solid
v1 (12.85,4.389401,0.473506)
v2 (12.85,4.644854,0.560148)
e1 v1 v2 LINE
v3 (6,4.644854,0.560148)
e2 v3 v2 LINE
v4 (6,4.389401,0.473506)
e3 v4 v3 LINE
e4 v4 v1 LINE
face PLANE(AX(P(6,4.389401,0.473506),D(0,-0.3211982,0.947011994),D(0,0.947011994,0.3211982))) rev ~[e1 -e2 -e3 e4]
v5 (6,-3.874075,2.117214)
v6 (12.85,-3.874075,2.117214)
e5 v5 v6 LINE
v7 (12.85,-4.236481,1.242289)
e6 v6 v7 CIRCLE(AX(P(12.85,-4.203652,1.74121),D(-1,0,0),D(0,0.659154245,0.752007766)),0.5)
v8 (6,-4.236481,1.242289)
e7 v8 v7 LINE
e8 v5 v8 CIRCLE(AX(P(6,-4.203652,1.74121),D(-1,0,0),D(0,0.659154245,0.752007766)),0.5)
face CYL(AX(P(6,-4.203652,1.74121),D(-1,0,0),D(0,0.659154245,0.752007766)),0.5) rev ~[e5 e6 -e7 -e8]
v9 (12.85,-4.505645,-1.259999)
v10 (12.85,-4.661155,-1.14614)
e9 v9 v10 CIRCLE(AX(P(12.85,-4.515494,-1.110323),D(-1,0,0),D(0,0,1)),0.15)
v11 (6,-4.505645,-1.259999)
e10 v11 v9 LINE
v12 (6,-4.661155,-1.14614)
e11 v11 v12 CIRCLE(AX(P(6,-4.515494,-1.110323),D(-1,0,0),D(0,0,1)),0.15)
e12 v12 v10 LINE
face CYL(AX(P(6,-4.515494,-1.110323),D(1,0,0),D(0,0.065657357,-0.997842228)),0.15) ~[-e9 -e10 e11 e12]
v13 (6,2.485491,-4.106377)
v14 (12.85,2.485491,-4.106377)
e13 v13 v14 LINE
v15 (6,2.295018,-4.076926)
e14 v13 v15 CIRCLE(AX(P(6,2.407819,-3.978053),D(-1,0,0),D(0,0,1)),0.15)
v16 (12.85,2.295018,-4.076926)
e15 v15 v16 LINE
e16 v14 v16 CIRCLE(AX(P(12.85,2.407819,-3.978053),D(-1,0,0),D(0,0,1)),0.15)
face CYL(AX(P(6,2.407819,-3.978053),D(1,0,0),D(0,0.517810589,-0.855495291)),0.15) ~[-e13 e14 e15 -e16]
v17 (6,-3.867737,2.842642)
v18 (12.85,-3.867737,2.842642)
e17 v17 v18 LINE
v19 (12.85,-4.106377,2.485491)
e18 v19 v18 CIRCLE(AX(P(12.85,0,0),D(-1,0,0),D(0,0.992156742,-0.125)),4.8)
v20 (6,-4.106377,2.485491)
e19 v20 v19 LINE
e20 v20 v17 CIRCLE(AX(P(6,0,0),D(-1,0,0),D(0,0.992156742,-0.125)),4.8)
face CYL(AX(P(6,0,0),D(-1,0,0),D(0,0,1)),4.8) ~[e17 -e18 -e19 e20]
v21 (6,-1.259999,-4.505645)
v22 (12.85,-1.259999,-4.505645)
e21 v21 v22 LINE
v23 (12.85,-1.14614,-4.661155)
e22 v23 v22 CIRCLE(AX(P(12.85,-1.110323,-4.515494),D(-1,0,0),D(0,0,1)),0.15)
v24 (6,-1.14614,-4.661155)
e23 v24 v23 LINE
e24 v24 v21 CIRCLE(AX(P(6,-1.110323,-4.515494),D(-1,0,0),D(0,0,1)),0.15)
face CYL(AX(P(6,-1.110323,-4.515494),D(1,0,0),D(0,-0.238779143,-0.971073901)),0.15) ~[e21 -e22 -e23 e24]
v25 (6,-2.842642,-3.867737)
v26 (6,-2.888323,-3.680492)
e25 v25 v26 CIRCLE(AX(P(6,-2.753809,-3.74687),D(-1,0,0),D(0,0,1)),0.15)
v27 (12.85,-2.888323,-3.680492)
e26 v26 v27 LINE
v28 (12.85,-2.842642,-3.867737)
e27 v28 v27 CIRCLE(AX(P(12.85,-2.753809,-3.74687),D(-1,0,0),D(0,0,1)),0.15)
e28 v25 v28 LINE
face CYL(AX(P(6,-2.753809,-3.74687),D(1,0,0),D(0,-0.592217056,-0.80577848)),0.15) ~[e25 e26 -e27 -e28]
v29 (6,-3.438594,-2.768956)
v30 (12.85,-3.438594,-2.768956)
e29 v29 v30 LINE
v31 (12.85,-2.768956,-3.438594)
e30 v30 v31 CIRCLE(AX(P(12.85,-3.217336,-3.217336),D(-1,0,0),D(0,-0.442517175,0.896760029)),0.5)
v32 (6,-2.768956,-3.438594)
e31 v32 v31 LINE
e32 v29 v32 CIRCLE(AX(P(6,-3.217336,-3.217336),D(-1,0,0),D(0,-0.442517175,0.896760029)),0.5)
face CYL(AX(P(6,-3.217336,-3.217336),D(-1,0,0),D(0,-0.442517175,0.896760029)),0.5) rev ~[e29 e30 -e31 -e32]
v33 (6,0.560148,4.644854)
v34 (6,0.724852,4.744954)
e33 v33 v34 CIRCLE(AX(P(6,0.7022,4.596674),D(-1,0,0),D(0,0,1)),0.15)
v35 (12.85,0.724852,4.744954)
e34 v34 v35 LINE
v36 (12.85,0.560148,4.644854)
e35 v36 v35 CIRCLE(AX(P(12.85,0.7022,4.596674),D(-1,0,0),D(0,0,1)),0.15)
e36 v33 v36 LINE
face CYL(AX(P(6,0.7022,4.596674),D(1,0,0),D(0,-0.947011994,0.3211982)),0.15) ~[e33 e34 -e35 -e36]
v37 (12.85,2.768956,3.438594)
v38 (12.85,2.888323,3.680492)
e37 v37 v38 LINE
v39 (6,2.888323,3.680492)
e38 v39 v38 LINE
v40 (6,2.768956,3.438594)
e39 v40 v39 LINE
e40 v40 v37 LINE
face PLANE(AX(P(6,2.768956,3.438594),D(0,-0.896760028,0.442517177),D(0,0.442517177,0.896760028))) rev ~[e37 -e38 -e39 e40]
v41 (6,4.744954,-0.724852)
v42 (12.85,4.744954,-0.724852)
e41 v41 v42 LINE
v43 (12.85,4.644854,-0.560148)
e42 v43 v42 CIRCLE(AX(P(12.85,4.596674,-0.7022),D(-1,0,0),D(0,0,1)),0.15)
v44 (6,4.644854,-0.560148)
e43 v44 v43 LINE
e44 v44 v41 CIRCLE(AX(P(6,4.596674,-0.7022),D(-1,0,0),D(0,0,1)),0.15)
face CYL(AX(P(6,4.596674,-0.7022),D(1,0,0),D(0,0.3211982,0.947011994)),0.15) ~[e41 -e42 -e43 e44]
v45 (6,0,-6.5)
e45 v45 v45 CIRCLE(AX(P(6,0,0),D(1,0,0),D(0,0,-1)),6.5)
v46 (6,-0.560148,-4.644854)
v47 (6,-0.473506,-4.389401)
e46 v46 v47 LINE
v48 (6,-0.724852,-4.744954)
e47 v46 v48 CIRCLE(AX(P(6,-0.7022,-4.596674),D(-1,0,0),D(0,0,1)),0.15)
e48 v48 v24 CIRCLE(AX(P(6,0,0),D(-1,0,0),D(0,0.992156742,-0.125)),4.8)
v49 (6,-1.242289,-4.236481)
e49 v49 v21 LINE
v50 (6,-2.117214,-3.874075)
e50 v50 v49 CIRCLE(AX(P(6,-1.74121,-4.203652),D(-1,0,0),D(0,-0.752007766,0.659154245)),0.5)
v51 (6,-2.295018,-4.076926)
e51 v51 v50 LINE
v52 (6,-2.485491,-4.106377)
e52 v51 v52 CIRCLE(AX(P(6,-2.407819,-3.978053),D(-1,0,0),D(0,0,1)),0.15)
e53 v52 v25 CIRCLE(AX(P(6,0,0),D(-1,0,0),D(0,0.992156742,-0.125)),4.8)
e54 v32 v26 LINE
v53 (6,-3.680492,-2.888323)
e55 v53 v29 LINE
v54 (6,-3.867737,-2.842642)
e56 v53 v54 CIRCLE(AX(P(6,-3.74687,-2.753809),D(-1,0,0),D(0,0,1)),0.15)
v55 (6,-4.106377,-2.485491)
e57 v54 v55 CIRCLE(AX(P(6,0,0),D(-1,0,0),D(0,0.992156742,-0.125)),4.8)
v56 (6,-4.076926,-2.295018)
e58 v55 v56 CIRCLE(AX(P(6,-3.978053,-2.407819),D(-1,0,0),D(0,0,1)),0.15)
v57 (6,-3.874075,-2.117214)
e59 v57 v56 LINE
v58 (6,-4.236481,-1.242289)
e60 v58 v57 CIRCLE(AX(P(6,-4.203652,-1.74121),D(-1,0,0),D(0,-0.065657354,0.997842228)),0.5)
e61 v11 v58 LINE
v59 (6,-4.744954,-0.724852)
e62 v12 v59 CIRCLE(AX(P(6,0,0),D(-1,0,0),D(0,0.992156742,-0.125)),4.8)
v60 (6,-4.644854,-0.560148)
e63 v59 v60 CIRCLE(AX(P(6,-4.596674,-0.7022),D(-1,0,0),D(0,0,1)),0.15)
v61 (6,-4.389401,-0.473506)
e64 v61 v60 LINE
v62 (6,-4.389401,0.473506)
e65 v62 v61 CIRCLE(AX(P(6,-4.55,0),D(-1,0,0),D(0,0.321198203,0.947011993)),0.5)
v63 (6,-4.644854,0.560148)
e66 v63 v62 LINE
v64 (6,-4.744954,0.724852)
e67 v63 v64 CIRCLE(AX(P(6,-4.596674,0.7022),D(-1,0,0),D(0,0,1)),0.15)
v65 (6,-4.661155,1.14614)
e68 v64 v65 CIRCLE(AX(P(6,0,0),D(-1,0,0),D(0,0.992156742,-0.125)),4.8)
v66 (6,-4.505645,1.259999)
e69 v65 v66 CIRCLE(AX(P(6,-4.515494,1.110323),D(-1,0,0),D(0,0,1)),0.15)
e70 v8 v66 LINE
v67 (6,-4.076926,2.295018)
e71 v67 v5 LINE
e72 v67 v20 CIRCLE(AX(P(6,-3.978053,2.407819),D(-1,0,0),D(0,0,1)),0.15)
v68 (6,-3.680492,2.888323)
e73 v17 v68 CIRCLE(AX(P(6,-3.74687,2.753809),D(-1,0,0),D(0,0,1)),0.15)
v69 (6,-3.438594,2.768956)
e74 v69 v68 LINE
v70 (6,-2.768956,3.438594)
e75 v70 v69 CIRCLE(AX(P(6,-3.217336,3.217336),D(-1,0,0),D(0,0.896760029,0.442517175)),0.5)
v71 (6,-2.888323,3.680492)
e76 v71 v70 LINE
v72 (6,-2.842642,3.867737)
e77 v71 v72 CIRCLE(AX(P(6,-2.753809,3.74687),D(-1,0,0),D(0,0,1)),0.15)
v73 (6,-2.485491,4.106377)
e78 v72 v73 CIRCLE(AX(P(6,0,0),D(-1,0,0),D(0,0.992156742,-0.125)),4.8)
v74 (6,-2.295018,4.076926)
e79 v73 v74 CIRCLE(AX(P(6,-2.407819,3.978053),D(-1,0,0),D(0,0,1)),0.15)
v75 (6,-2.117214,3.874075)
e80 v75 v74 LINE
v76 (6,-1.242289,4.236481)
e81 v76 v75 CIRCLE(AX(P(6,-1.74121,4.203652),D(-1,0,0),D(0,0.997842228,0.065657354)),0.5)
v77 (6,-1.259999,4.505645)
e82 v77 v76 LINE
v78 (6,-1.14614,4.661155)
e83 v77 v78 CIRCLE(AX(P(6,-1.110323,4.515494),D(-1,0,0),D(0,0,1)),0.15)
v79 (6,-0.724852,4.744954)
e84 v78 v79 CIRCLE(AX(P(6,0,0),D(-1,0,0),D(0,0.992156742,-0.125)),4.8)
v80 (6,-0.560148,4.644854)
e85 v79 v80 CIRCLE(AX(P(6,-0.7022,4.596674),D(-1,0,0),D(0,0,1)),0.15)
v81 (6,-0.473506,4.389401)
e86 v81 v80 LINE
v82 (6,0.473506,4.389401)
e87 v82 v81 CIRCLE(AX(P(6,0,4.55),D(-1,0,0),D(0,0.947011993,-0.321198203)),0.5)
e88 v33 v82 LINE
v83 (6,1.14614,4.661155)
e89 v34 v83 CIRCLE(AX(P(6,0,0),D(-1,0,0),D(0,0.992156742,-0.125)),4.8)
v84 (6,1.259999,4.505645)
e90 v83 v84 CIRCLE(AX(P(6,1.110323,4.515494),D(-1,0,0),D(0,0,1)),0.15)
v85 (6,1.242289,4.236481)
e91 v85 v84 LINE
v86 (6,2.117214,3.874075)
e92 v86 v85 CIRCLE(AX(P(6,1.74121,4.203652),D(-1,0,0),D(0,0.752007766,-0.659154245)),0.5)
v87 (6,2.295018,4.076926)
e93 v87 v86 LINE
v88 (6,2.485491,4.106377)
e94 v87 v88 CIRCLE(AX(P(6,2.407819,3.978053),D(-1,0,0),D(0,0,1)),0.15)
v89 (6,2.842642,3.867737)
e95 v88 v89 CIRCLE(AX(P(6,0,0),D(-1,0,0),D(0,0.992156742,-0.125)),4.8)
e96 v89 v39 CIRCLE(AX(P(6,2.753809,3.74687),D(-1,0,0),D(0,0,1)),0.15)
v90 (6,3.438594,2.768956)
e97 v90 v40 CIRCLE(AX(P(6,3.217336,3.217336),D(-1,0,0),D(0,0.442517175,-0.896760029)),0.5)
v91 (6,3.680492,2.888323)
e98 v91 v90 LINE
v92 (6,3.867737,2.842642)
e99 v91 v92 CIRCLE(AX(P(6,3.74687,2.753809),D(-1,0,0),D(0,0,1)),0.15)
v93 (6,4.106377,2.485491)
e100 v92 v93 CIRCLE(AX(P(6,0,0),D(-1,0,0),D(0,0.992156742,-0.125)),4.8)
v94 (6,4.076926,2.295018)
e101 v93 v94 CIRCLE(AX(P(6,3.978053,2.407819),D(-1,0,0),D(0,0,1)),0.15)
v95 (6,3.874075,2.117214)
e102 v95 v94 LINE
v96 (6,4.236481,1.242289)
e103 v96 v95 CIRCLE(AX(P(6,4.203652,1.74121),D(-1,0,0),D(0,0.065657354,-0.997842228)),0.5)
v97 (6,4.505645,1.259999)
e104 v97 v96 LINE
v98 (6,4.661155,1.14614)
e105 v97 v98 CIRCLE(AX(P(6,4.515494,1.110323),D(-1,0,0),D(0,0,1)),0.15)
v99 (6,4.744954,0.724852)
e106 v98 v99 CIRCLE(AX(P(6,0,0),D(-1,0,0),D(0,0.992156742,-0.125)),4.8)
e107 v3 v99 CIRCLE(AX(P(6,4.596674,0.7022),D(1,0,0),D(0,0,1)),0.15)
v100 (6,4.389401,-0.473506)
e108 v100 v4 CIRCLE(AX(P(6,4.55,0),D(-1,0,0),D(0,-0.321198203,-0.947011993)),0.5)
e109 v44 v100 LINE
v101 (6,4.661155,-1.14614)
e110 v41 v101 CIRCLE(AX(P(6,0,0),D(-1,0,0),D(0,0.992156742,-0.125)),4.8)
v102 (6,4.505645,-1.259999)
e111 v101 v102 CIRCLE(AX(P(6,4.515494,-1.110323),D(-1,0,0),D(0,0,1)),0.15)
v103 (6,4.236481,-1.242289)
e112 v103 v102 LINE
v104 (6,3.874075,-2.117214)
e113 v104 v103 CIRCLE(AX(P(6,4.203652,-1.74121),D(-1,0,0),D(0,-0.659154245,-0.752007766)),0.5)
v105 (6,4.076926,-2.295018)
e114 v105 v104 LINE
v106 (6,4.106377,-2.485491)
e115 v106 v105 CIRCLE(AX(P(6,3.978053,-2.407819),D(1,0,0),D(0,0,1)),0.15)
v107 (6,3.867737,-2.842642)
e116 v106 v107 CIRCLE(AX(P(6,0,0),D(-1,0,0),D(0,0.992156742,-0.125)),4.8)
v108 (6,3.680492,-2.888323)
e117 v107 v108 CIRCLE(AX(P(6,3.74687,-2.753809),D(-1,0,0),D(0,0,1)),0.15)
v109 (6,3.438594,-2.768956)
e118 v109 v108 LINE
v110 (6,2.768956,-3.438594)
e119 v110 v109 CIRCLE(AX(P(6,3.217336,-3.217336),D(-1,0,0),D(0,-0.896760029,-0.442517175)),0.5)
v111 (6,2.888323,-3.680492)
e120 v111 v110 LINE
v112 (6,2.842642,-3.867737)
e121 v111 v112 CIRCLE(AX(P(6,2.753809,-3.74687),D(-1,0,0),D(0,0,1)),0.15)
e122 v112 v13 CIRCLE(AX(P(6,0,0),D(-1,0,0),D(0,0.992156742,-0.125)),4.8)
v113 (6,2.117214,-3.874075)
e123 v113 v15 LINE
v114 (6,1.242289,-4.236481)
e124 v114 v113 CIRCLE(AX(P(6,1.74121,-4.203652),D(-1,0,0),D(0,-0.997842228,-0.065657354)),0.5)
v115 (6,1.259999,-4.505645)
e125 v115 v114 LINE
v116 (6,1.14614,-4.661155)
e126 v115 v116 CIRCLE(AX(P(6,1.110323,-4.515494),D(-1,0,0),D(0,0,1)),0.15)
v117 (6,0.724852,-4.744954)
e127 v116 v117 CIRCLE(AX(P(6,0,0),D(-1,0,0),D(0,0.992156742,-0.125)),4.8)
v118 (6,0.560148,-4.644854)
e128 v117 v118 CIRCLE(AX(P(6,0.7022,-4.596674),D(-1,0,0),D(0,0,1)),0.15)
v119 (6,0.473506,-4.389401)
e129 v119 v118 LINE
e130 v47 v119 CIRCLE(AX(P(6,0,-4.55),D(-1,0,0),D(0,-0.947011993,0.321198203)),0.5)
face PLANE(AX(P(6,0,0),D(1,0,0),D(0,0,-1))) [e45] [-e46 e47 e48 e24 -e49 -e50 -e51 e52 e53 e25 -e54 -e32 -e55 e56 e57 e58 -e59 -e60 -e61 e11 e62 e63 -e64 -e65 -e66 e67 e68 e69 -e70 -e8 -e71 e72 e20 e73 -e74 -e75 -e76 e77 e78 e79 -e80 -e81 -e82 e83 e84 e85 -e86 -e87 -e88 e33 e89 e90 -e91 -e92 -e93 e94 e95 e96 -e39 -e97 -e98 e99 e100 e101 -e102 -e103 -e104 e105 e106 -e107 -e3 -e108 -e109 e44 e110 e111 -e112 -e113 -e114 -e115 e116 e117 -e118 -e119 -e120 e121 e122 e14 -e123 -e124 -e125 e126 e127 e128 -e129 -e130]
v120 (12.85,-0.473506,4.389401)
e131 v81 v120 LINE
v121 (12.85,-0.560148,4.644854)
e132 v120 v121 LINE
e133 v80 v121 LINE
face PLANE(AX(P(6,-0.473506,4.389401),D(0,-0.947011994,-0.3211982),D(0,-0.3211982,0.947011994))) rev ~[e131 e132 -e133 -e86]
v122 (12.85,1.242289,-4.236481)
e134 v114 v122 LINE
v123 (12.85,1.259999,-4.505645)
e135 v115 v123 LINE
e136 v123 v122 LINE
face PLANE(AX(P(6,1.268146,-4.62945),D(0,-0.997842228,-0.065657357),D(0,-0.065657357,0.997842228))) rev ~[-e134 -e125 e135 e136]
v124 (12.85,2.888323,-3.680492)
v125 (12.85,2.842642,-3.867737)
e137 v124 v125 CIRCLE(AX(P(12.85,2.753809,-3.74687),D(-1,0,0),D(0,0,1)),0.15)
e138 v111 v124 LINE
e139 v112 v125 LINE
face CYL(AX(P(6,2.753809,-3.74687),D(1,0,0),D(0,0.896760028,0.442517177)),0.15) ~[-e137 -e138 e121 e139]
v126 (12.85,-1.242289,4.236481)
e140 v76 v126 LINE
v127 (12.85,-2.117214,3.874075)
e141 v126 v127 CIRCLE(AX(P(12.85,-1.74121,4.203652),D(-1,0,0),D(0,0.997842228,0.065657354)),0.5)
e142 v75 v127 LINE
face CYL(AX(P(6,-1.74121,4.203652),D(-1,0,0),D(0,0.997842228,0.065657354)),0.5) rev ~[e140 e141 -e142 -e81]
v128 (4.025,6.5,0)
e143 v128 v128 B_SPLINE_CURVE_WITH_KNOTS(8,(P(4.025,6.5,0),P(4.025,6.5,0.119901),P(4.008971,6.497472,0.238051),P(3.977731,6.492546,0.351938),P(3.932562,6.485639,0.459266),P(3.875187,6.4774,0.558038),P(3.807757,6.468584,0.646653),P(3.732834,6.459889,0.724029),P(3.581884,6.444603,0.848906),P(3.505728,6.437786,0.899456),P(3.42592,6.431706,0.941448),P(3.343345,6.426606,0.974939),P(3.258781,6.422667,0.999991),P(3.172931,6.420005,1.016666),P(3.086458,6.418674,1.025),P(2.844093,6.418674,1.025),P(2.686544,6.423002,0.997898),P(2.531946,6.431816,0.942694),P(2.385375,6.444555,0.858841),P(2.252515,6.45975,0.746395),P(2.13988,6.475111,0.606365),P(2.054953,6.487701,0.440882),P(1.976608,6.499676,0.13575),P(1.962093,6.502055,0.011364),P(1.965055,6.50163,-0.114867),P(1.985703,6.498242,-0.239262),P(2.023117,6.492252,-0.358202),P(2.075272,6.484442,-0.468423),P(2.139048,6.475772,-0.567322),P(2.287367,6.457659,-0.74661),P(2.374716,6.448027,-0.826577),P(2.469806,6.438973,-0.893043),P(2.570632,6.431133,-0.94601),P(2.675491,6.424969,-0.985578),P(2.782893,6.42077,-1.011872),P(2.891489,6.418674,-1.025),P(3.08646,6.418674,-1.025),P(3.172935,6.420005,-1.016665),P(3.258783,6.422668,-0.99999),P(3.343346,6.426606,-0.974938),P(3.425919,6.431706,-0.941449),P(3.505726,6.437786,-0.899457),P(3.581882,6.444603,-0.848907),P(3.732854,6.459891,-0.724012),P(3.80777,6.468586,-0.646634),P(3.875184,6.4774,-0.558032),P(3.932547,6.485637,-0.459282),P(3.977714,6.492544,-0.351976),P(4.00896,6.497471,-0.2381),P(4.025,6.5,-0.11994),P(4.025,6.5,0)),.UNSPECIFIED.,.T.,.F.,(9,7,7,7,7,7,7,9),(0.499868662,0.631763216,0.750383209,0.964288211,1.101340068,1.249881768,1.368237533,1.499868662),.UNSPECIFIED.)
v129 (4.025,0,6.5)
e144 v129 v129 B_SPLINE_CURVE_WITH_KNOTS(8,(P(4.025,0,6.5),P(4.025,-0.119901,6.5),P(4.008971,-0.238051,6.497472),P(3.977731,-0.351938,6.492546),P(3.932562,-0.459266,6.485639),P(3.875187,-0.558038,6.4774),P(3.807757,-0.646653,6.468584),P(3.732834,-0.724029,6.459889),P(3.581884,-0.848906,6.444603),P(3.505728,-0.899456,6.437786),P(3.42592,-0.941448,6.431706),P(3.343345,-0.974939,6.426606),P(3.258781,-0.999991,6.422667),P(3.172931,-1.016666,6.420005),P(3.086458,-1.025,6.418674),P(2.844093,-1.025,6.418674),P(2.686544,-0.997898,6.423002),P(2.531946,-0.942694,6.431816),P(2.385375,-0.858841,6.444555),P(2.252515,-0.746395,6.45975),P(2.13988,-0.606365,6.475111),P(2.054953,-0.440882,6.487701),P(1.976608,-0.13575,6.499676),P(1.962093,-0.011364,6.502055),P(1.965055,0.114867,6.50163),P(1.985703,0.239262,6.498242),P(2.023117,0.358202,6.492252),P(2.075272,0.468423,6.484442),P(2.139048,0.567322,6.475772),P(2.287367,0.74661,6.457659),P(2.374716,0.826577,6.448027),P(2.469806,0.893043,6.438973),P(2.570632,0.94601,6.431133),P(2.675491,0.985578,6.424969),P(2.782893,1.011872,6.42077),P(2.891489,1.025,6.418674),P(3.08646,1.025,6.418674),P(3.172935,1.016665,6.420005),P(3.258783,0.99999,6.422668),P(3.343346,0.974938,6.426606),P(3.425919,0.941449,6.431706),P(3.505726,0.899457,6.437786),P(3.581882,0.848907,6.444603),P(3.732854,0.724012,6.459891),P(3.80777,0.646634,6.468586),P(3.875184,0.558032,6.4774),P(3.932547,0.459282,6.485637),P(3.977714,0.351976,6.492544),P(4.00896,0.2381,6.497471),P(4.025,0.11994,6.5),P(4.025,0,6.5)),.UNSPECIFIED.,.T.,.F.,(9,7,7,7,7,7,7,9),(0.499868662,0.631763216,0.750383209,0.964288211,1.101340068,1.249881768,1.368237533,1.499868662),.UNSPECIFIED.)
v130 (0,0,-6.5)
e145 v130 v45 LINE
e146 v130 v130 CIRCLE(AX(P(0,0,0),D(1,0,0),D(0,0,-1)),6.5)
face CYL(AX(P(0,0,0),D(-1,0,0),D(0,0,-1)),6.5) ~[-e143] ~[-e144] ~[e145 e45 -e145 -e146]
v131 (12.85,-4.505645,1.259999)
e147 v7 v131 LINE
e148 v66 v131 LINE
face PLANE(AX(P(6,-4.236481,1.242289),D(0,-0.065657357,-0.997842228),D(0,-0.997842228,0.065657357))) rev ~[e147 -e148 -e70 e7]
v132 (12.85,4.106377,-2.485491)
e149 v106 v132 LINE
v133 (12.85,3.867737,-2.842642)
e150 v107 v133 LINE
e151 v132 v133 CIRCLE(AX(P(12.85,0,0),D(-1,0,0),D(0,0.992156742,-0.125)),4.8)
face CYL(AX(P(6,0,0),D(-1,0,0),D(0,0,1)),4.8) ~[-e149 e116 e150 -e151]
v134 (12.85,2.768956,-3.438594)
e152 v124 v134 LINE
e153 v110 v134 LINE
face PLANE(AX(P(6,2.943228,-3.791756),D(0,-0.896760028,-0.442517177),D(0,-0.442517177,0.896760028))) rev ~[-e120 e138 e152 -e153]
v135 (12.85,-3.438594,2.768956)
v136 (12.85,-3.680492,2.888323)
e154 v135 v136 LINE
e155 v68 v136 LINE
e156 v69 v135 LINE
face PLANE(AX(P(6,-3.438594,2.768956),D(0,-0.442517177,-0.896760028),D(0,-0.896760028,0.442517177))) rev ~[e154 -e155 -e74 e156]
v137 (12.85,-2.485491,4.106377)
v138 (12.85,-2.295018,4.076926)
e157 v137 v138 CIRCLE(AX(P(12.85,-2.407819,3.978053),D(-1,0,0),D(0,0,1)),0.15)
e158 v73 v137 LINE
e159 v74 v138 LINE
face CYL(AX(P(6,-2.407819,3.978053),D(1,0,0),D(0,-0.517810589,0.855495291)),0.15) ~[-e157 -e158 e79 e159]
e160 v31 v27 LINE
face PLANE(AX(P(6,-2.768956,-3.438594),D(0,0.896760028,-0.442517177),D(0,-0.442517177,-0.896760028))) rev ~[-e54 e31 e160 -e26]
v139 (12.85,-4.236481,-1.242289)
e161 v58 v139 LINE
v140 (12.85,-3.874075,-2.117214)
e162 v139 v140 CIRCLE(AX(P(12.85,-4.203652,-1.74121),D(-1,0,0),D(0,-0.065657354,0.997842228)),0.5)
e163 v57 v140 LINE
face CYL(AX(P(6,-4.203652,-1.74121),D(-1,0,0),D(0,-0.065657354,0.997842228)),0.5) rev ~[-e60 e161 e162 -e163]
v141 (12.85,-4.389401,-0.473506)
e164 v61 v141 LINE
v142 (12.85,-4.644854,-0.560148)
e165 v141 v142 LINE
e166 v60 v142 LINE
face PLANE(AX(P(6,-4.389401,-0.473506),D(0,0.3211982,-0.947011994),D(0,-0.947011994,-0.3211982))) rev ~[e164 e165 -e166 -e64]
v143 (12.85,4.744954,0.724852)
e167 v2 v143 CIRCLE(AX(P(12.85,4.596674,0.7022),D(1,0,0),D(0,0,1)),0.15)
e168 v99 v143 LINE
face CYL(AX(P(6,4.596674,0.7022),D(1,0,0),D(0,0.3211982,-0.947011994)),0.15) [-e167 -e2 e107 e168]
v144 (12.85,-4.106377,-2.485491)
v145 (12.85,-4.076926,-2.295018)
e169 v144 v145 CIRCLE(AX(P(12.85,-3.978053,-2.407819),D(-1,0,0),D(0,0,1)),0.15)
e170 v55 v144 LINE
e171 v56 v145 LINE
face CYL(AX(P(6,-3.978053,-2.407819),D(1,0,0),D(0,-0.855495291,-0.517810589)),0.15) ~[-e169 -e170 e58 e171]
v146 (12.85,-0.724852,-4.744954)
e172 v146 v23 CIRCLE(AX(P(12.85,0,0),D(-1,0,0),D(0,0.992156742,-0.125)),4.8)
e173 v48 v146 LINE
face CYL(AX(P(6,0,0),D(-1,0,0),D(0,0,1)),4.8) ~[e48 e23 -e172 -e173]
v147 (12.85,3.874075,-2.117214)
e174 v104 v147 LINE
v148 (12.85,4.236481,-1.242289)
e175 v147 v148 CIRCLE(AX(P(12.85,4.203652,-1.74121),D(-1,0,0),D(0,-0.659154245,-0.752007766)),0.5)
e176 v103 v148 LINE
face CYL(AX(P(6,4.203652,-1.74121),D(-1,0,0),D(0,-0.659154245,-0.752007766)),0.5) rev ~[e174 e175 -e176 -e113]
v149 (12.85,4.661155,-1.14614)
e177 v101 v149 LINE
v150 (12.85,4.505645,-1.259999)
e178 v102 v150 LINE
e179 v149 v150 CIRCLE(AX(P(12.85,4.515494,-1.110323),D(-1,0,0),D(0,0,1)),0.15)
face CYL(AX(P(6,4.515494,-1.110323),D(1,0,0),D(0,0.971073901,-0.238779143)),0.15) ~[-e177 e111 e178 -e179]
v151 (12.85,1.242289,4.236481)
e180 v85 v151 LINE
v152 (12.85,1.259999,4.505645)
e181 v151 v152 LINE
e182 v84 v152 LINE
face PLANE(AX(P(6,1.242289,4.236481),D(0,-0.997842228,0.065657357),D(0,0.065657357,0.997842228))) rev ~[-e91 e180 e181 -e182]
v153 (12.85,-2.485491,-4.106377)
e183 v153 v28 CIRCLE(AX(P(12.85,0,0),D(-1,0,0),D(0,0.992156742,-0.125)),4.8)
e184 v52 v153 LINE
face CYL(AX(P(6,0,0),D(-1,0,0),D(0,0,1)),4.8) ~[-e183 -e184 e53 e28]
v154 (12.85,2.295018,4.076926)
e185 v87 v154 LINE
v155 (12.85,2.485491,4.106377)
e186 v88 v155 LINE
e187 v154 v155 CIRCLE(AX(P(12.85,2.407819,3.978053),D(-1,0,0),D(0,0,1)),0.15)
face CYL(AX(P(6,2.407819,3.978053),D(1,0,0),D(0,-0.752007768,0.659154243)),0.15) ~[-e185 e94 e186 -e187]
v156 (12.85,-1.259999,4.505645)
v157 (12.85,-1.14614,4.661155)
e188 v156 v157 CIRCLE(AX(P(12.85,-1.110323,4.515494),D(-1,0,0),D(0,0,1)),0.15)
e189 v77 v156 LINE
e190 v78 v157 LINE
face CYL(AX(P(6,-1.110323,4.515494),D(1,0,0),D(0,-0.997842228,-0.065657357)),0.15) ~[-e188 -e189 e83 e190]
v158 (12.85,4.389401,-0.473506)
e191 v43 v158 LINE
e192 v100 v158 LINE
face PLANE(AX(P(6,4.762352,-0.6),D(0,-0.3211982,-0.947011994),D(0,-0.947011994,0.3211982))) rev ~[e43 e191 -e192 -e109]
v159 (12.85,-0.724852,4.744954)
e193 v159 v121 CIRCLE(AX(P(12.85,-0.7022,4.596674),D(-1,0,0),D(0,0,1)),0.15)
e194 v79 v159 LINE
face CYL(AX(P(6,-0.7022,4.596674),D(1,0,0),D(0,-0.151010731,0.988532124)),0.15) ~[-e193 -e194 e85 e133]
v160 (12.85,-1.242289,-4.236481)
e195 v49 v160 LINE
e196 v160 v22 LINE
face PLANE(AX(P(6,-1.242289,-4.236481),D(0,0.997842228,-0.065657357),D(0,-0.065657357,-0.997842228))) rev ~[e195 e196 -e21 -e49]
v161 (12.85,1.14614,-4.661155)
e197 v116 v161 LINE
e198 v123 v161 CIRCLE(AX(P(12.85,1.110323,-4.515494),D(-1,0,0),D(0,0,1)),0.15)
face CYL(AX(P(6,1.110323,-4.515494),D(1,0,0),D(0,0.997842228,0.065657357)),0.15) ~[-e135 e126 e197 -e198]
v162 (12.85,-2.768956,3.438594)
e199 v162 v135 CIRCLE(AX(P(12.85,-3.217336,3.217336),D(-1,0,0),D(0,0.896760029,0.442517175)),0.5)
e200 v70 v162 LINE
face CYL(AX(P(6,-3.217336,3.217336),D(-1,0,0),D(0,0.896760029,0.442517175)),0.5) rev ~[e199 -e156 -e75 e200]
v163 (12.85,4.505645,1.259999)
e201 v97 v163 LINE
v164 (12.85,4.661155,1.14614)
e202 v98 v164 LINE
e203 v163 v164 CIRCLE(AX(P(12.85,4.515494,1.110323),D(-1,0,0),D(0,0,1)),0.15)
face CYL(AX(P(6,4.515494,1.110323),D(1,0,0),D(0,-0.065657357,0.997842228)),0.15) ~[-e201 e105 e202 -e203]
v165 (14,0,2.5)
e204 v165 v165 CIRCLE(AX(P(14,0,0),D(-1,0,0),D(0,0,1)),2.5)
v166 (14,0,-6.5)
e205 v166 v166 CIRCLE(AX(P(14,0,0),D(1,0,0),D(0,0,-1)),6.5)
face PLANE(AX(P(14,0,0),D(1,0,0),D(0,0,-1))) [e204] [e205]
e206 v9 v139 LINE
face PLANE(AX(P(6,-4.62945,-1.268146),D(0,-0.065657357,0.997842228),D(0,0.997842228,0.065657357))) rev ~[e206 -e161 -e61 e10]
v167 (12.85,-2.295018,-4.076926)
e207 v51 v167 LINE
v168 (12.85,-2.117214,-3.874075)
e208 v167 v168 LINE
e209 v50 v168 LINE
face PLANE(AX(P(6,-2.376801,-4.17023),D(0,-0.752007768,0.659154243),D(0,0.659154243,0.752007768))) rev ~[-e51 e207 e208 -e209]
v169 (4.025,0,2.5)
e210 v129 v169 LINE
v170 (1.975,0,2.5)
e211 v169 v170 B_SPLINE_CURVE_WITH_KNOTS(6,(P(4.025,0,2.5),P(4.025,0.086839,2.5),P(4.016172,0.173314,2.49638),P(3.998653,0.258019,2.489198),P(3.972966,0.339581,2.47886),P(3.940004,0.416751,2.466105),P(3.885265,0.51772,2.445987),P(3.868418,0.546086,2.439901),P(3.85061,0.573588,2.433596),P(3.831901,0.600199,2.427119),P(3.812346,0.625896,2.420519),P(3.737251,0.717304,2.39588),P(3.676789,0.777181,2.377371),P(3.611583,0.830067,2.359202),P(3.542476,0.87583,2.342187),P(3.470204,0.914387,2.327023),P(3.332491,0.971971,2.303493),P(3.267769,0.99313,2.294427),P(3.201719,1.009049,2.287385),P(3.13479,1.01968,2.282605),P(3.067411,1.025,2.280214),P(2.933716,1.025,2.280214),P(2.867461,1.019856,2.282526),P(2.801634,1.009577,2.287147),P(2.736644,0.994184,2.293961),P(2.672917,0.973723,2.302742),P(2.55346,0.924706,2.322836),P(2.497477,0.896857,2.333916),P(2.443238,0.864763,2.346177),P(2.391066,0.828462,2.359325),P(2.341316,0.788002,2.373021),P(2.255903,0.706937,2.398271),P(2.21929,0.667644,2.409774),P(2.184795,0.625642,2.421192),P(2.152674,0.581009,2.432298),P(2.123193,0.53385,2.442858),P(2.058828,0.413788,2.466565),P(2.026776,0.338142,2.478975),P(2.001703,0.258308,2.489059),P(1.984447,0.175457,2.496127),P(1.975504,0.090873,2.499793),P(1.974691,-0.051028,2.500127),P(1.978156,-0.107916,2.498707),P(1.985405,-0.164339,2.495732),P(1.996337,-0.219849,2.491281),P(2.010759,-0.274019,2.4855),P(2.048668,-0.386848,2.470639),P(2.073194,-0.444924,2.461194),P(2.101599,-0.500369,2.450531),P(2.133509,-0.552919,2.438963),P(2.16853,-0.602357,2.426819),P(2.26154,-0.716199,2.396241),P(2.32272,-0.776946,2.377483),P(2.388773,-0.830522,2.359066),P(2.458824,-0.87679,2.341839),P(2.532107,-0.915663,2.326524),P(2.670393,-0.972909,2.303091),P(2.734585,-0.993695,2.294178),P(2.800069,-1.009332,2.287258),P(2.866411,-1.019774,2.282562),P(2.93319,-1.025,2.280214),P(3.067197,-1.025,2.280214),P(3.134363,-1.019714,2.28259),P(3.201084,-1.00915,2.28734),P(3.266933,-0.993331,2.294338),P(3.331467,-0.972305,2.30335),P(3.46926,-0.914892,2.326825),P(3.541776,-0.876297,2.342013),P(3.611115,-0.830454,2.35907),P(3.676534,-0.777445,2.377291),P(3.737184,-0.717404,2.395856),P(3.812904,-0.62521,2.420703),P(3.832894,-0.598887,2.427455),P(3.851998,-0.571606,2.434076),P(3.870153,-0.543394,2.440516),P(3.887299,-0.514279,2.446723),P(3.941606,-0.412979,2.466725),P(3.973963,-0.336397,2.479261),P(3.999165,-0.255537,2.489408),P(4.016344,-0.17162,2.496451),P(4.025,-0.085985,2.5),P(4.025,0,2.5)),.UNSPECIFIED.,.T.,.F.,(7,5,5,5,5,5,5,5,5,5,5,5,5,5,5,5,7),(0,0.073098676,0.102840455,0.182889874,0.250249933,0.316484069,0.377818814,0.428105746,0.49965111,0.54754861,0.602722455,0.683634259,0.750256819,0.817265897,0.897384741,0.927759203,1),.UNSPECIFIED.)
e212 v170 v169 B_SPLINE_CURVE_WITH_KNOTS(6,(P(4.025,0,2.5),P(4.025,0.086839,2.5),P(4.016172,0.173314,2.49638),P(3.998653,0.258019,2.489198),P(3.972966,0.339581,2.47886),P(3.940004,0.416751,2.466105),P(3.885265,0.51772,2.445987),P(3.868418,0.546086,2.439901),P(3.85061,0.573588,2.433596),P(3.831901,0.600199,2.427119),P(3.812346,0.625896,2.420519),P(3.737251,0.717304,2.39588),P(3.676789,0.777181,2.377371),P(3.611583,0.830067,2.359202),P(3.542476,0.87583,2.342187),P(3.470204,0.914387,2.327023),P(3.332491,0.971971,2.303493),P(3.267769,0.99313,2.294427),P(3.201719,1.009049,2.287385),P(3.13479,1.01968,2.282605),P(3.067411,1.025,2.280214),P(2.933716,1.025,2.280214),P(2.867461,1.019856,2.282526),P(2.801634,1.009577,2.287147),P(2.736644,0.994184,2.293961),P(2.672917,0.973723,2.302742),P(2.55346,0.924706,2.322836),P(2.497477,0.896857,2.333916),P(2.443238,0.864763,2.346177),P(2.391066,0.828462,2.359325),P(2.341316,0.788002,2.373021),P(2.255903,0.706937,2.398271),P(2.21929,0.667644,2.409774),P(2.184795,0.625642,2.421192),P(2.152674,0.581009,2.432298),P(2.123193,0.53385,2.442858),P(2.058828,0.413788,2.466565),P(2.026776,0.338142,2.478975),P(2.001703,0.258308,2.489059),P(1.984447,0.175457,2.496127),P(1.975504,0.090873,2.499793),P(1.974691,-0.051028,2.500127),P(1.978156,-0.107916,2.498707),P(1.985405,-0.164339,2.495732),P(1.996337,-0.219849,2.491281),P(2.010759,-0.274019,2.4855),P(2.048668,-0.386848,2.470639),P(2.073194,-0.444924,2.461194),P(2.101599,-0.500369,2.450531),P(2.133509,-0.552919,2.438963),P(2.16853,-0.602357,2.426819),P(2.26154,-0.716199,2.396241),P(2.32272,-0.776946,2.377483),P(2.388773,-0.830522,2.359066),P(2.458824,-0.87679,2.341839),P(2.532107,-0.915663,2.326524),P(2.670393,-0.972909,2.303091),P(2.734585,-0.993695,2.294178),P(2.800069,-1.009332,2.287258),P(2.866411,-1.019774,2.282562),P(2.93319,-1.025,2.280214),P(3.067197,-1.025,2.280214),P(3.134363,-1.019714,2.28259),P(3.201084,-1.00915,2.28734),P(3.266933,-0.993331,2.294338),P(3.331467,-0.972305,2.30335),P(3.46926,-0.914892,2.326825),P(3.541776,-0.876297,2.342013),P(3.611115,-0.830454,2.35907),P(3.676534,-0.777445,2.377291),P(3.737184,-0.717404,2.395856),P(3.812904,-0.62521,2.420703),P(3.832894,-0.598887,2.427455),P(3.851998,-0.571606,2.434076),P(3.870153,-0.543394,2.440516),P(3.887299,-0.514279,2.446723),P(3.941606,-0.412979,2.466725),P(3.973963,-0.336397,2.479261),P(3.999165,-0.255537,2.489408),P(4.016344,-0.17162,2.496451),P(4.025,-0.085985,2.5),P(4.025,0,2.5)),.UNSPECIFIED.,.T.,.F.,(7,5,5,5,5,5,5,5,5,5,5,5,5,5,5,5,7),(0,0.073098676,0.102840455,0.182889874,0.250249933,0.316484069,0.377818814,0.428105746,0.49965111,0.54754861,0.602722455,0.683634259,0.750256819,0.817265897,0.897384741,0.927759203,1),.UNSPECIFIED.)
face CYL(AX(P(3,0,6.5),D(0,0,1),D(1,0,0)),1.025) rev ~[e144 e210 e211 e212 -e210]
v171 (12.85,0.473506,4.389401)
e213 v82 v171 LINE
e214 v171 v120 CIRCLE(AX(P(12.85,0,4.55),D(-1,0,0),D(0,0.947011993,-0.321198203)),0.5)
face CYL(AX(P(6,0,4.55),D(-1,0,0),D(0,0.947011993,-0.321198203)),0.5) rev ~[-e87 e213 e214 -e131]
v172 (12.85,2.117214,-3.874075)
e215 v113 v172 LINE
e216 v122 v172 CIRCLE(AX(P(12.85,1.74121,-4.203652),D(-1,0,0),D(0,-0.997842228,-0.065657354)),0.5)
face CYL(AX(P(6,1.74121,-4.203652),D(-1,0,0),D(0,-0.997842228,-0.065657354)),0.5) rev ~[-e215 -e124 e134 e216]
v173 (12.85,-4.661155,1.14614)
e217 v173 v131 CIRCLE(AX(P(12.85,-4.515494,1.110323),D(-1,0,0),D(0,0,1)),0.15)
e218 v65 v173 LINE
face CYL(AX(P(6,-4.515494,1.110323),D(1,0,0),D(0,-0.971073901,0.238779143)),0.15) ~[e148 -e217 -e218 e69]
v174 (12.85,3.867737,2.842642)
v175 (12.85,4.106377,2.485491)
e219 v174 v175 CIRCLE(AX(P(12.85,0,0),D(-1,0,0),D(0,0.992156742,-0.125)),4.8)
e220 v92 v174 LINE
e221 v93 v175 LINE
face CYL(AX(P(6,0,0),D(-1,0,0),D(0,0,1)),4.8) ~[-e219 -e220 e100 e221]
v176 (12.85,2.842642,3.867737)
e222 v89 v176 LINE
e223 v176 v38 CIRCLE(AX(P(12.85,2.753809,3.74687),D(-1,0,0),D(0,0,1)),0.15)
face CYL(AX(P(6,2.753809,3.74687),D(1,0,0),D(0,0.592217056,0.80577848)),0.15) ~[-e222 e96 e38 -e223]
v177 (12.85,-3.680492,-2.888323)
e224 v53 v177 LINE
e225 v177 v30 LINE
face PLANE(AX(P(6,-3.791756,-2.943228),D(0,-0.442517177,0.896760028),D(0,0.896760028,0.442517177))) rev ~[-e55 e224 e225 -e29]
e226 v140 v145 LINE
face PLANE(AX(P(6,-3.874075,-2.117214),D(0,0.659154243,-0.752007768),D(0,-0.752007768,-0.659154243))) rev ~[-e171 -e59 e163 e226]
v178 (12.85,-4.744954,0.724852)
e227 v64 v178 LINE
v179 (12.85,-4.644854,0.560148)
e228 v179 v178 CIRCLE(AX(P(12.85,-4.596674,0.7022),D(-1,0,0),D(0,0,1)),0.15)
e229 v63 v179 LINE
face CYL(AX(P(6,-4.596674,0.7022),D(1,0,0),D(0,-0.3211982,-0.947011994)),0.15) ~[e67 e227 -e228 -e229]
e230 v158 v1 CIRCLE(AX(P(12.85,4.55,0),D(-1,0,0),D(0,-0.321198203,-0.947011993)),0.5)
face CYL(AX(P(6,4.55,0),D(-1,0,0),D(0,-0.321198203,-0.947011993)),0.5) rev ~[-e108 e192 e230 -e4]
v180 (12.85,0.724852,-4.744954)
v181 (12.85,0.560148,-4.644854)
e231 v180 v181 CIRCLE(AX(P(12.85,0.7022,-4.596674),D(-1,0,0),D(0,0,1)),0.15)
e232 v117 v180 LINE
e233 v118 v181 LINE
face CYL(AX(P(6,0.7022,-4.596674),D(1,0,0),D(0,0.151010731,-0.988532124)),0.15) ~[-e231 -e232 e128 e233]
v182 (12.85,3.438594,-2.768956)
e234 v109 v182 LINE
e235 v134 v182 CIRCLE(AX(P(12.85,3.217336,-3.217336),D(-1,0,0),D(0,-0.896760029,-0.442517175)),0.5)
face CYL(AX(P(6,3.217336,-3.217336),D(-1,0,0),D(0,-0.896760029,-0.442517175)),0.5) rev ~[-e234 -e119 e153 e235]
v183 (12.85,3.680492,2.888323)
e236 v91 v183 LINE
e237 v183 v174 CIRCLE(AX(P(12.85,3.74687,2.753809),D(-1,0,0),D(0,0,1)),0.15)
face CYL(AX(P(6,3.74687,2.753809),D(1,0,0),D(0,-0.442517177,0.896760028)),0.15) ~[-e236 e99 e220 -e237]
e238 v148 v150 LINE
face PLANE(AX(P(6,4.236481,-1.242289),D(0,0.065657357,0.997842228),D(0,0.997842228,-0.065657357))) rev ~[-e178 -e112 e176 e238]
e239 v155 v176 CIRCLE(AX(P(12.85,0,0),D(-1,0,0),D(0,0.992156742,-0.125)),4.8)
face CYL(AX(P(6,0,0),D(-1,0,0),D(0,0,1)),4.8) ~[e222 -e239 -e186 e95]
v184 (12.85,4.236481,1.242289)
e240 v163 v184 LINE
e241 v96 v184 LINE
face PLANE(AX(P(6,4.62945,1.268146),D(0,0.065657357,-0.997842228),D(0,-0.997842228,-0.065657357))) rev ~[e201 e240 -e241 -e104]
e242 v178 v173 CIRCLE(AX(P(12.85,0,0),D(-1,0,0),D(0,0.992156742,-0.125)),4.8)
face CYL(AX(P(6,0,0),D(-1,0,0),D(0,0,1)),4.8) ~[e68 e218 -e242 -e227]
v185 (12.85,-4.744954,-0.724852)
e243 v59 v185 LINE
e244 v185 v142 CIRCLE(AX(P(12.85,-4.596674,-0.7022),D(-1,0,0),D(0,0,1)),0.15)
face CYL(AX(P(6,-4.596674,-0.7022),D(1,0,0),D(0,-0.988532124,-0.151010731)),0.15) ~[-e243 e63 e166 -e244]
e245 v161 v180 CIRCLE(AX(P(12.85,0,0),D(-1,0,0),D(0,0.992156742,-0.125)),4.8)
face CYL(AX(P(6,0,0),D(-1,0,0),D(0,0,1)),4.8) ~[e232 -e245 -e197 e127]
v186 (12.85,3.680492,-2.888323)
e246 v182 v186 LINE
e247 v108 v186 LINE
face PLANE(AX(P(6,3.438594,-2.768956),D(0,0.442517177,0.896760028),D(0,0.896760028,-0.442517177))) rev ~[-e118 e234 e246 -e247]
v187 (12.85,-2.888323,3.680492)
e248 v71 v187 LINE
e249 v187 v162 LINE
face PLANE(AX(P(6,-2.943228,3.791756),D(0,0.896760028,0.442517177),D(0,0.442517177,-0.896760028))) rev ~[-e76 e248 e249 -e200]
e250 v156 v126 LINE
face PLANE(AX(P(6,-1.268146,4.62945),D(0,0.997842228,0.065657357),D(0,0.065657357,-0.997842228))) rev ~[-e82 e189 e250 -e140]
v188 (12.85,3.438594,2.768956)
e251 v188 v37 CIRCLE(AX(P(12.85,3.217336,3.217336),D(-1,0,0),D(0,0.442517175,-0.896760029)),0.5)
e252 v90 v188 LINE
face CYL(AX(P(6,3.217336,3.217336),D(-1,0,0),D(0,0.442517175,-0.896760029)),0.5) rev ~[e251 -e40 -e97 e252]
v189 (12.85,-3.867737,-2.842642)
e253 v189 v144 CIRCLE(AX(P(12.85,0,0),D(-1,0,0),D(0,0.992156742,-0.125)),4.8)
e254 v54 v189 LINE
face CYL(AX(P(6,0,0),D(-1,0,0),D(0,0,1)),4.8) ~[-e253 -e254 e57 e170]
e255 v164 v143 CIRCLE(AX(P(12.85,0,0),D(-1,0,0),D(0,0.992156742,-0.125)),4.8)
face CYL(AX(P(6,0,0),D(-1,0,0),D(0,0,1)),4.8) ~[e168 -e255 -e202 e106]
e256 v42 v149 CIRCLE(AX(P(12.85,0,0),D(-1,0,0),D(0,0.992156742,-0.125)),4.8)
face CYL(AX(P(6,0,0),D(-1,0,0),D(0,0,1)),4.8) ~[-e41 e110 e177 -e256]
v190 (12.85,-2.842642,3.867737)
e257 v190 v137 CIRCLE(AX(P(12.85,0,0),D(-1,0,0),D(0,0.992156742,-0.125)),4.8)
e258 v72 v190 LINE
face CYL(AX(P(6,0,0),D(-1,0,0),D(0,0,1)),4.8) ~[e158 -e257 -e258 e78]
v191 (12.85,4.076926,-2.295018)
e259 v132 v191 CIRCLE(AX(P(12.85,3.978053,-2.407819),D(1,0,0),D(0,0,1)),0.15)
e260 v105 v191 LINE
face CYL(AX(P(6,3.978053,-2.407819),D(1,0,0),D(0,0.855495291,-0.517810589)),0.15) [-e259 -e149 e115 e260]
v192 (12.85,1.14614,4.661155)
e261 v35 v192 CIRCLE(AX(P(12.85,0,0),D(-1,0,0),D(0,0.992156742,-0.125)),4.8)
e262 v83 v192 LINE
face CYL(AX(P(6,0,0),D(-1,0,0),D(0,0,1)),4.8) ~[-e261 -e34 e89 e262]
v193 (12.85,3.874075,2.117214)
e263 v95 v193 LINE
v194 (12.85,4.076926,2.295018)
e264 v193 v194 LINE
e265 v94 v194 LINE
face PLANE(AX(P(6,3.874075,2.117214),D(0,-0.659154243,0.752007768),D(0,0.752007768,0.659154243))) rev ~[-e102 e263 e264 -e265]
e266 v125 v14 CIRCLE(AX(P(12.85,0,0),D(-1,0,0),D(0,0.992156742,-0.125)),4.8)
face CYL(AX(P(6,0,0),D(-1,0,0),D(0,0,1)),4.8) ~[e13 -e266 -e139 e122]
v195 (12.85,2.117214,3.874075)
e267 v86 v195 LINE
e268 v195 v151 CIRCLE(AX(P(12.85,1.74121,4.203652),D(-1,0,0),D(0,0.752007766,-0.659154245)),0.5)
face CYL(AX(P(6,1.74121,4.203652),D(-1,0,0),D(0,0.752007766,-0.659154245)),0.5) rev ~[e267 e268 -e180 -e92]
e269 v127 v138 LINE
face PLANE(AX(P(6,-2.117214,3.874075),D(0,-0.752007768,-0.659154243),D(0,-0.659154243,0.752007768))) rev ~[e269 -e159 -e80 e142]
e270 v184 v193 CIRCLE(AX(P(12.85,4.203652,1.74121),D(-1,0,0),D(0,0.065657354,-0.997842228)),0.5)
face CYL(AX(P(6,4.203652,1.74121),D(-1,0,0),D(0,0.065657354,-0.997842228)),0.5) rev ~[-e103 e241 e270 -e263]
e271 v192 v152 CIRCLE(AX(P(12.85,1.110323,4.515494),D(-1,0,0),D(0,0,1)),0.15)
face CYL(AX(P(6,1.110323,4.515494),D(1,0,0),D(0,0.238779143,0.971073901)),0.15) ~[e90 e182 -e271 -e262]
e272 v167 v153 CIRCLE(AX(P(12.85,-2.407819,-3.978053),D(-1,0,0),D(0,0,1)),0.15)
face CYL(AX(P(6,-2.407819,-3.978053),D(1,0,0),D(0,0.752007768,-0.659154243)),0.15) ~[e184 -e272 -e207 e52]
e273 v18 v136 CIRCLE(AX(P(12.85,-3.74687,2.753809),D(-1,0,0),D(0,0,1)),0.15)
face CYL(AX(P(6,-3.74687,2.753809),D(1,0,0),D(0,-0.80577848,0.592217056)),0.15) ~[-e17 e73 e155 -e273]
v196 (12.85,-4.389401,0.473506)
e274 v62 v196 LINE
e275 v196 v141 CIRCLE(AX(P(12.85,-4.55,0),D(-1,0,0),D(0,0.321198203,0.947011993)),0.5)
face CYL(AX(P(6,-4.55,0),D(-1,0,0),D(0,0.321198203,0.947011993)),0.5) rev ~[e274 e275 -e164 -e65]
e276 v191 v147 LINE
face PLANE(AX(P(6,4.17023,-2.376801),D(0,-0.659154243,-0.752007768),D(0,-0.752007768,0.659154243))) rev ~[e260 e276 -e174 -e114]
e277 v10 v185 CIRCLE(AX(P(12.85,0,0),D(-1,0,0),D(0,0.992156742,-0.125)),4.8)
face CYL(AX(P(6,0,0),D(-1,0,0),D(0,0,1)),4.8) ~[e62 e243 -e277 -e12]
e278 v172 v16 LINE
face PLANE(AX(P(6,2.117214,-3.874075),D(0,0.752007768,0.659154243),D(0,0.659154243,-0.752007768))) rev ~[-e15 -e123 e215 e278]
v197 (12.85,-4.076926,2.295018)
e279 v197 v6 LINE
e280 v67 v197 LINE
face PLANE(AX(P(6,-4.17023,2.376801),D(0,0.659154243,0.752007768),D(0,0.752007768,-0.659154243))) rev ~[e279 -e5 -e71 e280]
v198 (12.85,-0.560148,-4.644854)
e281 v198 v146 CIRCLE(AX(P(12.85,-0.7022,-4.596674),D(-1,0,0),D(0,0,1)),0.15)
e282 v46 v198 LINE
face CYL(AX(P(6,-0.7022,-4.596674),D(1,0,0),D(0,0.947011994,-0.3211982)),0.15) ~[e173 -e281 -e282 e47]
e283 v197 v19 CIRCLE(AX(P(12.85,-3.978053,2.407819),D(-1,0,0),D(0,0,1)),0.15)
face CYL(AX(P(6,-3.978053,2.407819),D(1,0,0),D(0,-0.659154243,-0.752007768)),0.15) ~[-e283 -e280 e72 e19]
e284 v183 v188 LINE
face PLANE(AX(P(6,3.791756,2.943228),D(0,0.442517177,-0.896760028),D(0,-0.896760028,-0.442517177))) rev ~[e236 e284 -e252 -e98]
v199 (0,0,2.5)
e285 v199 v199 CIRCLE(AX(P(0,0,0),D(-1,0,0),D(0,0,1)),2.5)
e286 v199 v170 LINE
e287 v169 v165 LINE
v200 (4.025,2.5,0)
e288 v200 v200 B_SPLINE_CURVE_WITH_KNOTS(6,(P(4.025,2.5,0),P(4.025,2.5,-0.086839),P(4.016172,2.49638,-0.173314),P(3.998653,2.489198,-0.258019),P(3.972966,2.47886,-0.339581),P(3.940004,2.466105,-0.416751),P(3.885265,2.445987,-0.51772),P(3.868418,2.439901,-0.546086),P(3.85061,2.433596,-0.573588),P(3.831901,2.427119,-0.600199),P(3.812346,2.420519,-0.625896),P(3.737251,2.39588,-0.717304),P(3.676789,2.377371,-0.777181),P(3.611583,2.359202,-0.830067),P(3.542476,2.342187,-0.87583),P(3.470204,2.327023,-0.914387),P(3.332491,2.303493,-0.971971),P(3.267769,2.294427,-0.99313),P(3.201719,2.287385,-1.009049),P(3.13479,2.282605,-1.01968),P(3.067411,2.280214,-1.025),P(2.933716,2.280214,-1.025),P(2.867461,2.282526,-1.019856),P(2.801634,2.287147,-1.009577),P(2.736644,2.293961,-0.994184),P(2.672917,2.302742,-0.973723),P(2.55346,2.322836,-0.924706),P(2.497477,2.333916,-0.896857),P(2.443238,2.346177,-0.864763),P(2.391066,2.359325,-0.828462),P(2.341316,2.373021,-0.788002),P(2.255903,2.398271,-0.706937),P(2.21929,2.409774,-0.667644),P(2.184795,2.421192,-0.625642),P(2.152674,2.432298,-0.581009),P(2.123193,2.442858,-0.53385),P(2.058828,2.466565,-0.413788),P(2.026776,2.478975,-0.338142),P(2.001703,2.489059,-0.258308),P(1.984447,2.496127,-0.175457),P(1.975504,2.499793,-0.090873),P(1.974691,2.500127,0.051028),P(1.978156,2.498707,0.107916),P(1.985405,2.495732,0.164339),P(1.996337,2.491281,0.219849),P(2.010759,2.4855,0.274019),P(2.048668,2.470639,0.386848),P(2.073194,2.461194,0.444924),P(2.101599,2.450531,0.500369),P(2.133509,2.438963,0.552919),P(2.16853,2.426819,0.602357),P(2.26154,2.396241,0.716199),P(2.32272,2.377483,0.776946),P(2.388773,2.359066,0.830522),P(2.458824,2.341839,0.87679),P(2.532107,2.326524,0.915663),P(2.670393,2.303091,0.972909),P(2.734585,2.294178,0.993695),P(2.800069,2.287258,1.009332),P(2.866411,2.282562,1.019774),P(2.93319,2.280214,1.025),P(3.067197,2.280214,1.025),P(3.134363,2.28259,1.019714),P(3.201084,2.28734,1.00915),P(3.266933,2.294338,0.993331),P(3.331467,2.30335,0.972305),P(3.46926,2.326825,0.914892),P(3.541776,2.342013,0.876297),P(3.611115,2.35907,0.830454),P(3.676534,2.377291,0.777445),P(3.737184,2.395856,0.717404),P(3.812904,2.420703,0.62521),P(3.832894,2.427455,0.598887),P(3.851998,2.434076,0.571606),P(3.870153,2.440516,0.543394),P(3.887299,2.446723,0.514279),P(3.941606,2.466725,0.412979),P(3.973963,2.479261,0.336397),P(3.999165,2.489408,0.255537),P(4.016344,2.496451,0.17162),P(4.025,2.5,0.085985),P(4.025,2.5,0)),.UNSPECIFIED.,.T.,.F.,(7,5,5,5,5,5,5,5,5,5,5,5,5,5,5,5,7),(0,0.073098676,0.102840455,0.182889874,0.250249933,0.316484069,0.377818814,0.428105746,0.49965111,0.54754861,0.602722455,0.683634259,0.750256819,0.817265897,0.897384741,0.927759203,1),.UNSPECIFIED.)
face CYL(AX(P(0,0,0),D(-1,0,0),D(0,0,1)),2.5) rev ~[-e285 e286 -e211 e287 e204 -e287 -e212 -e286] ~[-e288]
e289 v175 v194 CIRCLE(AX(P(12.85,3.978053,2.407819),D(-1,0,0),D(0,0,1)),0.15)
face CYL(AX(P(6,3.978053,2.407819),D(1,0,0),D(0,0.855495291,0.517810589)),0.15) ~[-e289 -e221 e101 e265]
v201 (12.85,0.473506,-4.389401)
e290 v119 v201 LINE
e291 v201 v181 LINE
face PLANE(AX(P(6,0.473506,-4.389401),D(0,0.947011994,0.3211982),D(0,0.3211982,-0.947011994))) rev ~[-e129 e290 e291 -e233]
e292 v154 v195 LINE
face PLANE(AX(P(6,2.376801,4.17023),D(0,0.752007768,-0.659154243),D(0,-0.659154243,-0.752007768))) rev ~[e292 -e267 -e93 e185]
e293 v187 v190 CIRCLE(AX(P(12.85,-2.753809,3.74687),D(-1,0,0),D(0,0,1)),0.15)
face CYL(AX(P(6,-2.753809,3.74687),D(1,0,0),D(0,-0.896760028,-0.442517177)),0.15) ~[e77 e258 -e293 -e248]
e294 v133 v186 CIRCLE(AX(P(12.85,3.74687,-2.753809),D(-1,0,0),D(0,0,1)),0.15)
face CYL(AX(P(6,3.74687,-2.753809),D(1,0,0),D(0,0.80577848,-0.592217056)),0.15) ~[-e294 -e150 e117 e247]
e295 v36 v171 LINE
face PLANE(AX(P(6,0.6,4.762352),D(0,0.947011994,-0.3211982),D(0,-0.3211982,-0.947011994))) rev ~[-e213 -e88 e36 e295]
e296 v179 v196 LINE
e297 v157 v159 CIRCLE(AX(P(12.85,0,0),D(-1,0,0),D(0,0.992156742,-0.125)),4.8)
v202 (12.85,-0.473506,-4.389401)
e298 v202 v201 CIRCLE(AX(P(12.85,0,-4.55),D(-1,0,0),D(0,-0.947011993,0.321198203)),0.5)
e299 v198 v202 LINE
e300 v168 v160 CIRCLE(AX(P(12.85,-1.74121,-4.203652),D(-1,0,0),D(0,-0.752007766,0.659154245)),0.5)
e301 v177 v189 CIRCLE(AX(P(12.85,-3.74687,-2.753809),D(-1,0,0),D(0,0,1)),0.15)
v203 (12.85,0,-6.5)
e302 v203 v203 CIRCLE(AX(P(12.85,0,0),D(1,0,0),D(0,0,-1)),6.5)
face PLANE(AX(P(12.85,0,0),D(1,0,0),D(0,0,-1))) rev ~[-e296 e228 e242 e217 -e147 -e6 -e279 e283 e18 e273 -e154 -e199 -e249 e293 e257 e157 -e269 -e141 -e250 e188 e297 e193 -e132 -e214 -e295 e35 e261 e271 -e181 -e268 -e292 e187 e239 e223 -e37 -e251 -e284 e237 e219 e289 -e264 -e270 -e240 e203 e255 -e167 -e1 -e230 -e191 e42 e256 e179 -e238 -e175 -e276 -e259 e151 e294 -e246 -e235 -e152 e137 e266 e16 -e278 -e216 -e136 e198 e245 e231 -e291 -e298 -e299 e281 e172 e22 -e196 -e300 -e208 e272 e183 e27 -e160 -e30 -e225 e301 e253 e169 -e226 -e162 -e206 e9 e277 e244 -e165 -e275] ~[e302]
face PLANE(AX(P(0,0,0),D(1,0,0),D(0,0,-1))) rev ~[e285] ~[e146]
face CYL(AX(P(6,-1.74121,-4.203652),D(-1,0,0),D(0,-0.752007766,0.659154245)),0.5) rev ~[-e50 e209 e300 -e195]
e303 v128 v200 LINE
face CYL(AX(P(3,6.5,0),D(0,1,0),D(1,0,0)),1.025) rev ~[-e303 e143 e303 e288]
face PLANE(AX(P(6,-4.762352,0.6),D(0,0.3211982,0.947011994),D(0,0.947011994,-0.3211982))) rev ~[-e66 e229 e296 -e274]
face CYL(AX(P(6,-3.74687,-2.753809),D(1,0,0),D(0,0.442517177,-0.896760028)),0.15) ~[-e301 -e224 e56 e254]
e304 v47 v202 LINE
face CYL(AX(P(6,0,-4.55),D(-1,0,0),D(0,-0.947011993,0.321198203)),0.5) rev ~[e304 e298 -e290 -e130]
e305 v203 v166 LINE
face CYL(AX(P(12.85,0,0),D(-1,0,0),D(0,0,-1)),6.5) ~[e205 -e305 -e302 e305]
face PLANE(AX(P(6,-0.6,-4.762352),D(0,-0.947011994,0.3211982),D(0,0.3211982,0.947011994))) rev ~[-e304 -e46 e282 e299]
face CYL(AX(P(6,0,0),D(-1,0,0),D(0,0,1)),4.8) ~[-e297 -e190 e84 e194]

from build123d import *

# Parameters (mm, degrees)
CROQUIS1_R                               = 6.5
CORPO_LADO_MOTOR_13X6_DEPTH              = 6
CROQUIS3_R                               = 4.8
CORPO_DOS_DENTES_9_6X6_85_DEPTH          = 6.85
CORTE_DO_DENTE_R0_5_REACH                = 13.464
ARREDONDAMENTO_RAIO_0_15MM_R             = 0.15
CORTE_DOS_16_DENTES_COUNT                = 16
ARREDONDAMENTO_RAIO_0_15MM_OF_CORTE_DO_R = 0.15
CROQUIS4_R                               = 6.5
FACE_DIREITA_20_DEPTH                    = 1.15
CROQUIS6_R                               = 2.5
FURO_PASSANTE_5_DEPTH                    = 14
FURO_DE_FIXA_O_1_M2_5_REACH              = 22.18
FURO_DE_FIXA_O_1_M2_5_BORE_R             = 1.025
FURO_DE_FIXA_O_2_M2_5_COUNT              = 2
FURO_DE_FIXA_O_2_M2_5_ANGLE              = 90


with BuildPart() as part:
    # Croquis1 → Corpo Lado Motor - Ø13x6 (new body)
    with BuildSketch(Plane(origin=(0, 0, 0), x_dir=(0, 0, -1), z_dir=(1, 0, 0))):
        Circle(CROQUIS1_R)
    extrude(amount=CORPO_LADO_MOTOR_13X6_DEPTH)

    # Croquis3 → Corpo dos Dentes Ø9.6x6.85 (add)
    with BuildSketch(Plane(origin=(6, 0, 0), x_dir=(0, 0, -1), z_dir=(1, 0, 0))):
        with Locations(Location((0, 0, 0), (0, 0, 180))):
            Circle(CROQUIS3_R)
    extrude(amount=CORPO_DOS_DENTES_9_6X6_85_DEPTH)

    # Croquis5 → Corte do Dente - R0.5 (cut, up to next)
    with BuildSketch(Plane(origin=(6, 0, 0), x_dir=(0, 0, -1), z_dir=(1, 0, 0)), mode=Mode.PRIVATE) as corte_do_dente_r0_5_sk1:
        with BuildLine():
            Line((-0.473505997, 4.389400899), (-0.6, 4.76235236))
            ThreePointArc((-0.6, 4.76235236), (0, 4.8), (0.6, 4.76235236))
            Line((0.6, 4.76235236), (0.473505997, 4.389400899))
            ThreePointArc((0.473505997, 4.389400899), (0, 4.05), (-0.473505997, 4.389400899))
        make_face()
    corte_do_dente_r0_5_tool1 = extrude(corte_do_dente_r0_5_sk1.sketch, amount=CORTE_DO_DENTE_R0_5_REACH, mode=Mode.PRIVATE) & part.part
    corte_do_dente_r0_5 = corte_do_dente_r0_5_tool1.solids().sort_by_distance((6, 4.473914, 0))[0]
    add(corte_do_dente_r0_5, mode=Mode.SUBTRACT)

    # Arredondamento - Raio 0.15mm
    arredondamento_raio_0_15mm_edges = [part.edges().sort_by_distance(p)[0] for p in [
        (9.425, 4.76235236, 0.6),
        (9.425, 4.76235236, -0.6),
    ]]
    fillet(arredondamento_raio_0_15mm_edges, radius=ARREDONDAMENTO_RAIO_0_15MM_R)

    # Corte dos 16 Dentes: Corte do Dente - R0.5 ×16 about axis
    corte_dos_16_dentes_axis = Axis((0, 0, 0), (1, 0, 0))
    for i in range(1, CORTE_DOS_16_DENTES_COUNT):
        add(corte_do_dente_r0_5.rotate(corte_dos_16_dentes_axis, i * 360 / CORTE_DOS_16_DENTES_COUNT), mode=Mode.SUBTRACT)

    # Arredondamento - Raio 0.15mm of Corte do
    arredondamento_raio_0_15mm_of_corte_do_edges = [part.edges().sort_by_distance(p)[0] for p in [
        (9.425, 4.170229813, 2.376801067),
        (9.425, 4.629449931, 1.268145628),
        (9.425, 2.943227579, 3.791755717),
        (9.425, 3.791755717, 2.943227579),
        (9.425, 1.268145628, 4.629449931),
        (9.425, 2.376801067, 4.170229813),
        (9.425, -0.6, 4.76235236),
        (9.425, 0.6, 4.76235236),
        (9.425, -2.376801067, 4.170229813),
        (9.425, -1.268145628, 4.629449931),
        (9.425, -3.791755717, 2.943227579),
        (9.425, -2.943227579, 3.791755717),
        (9.425, -4.629449931, 1.268145628),
        (9.425, -4.170229813, 2.376801067),
        (9.425, -4.76235236, -0.6),
        (9.425, -4.76235236, 0.6),
        (9.425, -4.170229813, -2.376801067),
        (9.425, -4.629449931, -1.268145628),
        (9.425, -2.943227579, -3.791755717),
        (9.425, -3.791755717, -2.943227579),
        (9.425, -1.268145628, -4.629449931),
        (9.425, -2.376801067, -4.170229813),
        (9.425, 0.6, -4.76235236),
        (9.425, -0.6, -4.76235236),
        (9.425, 2.376801067, -4.170229813),
        (9.425, 1.268145628, -4.629449931),
        (9.425, 3.791755717, -2.943227579),
        (9.425, 2.943227579, -3.791755717),
        (9.425, 4.629449931, -1.268145628),
        (9.425, 4.170229813, -2.376801067),
    ]]
    fillet(arredondamento_raio_0_15mm_of_corte_do_edges, radius=ARREDONDAMENTO_RAIO_0_15MM_OF_CORTE_DO_R)

    # Croquis4 → Face Direita Ø20 (add)
    with BuildSketch(Plane(origin=(12.85, 0, 0), x_dir=(0, 0, -1), z_dir=(1, 0, 0))):
        Circle(CROQUIS4_R)
    extrude(amount=FACE_DIREITA_20_DEPTH)

    # Croquis6 → Furo Passante Ø5 (cut)
    with BuildSketch(Plane.ZY):
        Circle(CROQUIS6_R)
    extrude(amount=-FURO_PASSANTE_5_DEPTH, mode=Mode.SUBTRACT)

    # Furo de Fixação 1 - M2.5 bore → Furo de Fixação 1 - M2.5 (cut, up to next)
    with BuildSketch(Plane(origin=(0, 6.5, 0), x_dir=(1, 0, 0), z_dir=(0, 1, 0)), mode=Mode.PRIVATE) as furo_de_fixa_o_1_m2_5_sk1:
        with Locations((3, 0)):
            Circle(FURO_DE_FIXA_O_1_M2_5_BORE_R)
    furo_de_fixa_o_1_m2_5_tool1 = extrude(furo_de_fixa_o_1_m2_5_sk1.sketch, amount=-FURO_DE_FIXA_O_1_M2_5_REACH, mode=Mode.PRIVATE) & part.part
    furo_de_fixa_o_1_m2_5 = furo_de_fixa_o_1_m2_5_tool1.solids().sort_by_distance((3, 6.5, 0))[0]
    add(furo_de_fixa_o_1_m2_5, mode=Mode.SUBTRACT)

    # Furo de Fixação 2 - M2.5: Furo de Fixação 1 - M2.5 ×2 about axis
    furo_de_fixa_o_2_m2_5_axis = Axis((21.071067812, 0, 0), (1, 0, 0))
    for i in range(1, FURO_DE_FIXA_O_2_M2_5_COUNT):
        add(furo_de_fixa_o_1_m2_5.rotate(furo_de_fixa_o_2_m2_5_axis, i * FURO_DE_FIXA_O_2_M2_5_ANGLE / (FURO_DE_FIXA_O_2_M2_5_COUNT - 1)), mode=Mode.SUBTRACT)


solid = part.part
